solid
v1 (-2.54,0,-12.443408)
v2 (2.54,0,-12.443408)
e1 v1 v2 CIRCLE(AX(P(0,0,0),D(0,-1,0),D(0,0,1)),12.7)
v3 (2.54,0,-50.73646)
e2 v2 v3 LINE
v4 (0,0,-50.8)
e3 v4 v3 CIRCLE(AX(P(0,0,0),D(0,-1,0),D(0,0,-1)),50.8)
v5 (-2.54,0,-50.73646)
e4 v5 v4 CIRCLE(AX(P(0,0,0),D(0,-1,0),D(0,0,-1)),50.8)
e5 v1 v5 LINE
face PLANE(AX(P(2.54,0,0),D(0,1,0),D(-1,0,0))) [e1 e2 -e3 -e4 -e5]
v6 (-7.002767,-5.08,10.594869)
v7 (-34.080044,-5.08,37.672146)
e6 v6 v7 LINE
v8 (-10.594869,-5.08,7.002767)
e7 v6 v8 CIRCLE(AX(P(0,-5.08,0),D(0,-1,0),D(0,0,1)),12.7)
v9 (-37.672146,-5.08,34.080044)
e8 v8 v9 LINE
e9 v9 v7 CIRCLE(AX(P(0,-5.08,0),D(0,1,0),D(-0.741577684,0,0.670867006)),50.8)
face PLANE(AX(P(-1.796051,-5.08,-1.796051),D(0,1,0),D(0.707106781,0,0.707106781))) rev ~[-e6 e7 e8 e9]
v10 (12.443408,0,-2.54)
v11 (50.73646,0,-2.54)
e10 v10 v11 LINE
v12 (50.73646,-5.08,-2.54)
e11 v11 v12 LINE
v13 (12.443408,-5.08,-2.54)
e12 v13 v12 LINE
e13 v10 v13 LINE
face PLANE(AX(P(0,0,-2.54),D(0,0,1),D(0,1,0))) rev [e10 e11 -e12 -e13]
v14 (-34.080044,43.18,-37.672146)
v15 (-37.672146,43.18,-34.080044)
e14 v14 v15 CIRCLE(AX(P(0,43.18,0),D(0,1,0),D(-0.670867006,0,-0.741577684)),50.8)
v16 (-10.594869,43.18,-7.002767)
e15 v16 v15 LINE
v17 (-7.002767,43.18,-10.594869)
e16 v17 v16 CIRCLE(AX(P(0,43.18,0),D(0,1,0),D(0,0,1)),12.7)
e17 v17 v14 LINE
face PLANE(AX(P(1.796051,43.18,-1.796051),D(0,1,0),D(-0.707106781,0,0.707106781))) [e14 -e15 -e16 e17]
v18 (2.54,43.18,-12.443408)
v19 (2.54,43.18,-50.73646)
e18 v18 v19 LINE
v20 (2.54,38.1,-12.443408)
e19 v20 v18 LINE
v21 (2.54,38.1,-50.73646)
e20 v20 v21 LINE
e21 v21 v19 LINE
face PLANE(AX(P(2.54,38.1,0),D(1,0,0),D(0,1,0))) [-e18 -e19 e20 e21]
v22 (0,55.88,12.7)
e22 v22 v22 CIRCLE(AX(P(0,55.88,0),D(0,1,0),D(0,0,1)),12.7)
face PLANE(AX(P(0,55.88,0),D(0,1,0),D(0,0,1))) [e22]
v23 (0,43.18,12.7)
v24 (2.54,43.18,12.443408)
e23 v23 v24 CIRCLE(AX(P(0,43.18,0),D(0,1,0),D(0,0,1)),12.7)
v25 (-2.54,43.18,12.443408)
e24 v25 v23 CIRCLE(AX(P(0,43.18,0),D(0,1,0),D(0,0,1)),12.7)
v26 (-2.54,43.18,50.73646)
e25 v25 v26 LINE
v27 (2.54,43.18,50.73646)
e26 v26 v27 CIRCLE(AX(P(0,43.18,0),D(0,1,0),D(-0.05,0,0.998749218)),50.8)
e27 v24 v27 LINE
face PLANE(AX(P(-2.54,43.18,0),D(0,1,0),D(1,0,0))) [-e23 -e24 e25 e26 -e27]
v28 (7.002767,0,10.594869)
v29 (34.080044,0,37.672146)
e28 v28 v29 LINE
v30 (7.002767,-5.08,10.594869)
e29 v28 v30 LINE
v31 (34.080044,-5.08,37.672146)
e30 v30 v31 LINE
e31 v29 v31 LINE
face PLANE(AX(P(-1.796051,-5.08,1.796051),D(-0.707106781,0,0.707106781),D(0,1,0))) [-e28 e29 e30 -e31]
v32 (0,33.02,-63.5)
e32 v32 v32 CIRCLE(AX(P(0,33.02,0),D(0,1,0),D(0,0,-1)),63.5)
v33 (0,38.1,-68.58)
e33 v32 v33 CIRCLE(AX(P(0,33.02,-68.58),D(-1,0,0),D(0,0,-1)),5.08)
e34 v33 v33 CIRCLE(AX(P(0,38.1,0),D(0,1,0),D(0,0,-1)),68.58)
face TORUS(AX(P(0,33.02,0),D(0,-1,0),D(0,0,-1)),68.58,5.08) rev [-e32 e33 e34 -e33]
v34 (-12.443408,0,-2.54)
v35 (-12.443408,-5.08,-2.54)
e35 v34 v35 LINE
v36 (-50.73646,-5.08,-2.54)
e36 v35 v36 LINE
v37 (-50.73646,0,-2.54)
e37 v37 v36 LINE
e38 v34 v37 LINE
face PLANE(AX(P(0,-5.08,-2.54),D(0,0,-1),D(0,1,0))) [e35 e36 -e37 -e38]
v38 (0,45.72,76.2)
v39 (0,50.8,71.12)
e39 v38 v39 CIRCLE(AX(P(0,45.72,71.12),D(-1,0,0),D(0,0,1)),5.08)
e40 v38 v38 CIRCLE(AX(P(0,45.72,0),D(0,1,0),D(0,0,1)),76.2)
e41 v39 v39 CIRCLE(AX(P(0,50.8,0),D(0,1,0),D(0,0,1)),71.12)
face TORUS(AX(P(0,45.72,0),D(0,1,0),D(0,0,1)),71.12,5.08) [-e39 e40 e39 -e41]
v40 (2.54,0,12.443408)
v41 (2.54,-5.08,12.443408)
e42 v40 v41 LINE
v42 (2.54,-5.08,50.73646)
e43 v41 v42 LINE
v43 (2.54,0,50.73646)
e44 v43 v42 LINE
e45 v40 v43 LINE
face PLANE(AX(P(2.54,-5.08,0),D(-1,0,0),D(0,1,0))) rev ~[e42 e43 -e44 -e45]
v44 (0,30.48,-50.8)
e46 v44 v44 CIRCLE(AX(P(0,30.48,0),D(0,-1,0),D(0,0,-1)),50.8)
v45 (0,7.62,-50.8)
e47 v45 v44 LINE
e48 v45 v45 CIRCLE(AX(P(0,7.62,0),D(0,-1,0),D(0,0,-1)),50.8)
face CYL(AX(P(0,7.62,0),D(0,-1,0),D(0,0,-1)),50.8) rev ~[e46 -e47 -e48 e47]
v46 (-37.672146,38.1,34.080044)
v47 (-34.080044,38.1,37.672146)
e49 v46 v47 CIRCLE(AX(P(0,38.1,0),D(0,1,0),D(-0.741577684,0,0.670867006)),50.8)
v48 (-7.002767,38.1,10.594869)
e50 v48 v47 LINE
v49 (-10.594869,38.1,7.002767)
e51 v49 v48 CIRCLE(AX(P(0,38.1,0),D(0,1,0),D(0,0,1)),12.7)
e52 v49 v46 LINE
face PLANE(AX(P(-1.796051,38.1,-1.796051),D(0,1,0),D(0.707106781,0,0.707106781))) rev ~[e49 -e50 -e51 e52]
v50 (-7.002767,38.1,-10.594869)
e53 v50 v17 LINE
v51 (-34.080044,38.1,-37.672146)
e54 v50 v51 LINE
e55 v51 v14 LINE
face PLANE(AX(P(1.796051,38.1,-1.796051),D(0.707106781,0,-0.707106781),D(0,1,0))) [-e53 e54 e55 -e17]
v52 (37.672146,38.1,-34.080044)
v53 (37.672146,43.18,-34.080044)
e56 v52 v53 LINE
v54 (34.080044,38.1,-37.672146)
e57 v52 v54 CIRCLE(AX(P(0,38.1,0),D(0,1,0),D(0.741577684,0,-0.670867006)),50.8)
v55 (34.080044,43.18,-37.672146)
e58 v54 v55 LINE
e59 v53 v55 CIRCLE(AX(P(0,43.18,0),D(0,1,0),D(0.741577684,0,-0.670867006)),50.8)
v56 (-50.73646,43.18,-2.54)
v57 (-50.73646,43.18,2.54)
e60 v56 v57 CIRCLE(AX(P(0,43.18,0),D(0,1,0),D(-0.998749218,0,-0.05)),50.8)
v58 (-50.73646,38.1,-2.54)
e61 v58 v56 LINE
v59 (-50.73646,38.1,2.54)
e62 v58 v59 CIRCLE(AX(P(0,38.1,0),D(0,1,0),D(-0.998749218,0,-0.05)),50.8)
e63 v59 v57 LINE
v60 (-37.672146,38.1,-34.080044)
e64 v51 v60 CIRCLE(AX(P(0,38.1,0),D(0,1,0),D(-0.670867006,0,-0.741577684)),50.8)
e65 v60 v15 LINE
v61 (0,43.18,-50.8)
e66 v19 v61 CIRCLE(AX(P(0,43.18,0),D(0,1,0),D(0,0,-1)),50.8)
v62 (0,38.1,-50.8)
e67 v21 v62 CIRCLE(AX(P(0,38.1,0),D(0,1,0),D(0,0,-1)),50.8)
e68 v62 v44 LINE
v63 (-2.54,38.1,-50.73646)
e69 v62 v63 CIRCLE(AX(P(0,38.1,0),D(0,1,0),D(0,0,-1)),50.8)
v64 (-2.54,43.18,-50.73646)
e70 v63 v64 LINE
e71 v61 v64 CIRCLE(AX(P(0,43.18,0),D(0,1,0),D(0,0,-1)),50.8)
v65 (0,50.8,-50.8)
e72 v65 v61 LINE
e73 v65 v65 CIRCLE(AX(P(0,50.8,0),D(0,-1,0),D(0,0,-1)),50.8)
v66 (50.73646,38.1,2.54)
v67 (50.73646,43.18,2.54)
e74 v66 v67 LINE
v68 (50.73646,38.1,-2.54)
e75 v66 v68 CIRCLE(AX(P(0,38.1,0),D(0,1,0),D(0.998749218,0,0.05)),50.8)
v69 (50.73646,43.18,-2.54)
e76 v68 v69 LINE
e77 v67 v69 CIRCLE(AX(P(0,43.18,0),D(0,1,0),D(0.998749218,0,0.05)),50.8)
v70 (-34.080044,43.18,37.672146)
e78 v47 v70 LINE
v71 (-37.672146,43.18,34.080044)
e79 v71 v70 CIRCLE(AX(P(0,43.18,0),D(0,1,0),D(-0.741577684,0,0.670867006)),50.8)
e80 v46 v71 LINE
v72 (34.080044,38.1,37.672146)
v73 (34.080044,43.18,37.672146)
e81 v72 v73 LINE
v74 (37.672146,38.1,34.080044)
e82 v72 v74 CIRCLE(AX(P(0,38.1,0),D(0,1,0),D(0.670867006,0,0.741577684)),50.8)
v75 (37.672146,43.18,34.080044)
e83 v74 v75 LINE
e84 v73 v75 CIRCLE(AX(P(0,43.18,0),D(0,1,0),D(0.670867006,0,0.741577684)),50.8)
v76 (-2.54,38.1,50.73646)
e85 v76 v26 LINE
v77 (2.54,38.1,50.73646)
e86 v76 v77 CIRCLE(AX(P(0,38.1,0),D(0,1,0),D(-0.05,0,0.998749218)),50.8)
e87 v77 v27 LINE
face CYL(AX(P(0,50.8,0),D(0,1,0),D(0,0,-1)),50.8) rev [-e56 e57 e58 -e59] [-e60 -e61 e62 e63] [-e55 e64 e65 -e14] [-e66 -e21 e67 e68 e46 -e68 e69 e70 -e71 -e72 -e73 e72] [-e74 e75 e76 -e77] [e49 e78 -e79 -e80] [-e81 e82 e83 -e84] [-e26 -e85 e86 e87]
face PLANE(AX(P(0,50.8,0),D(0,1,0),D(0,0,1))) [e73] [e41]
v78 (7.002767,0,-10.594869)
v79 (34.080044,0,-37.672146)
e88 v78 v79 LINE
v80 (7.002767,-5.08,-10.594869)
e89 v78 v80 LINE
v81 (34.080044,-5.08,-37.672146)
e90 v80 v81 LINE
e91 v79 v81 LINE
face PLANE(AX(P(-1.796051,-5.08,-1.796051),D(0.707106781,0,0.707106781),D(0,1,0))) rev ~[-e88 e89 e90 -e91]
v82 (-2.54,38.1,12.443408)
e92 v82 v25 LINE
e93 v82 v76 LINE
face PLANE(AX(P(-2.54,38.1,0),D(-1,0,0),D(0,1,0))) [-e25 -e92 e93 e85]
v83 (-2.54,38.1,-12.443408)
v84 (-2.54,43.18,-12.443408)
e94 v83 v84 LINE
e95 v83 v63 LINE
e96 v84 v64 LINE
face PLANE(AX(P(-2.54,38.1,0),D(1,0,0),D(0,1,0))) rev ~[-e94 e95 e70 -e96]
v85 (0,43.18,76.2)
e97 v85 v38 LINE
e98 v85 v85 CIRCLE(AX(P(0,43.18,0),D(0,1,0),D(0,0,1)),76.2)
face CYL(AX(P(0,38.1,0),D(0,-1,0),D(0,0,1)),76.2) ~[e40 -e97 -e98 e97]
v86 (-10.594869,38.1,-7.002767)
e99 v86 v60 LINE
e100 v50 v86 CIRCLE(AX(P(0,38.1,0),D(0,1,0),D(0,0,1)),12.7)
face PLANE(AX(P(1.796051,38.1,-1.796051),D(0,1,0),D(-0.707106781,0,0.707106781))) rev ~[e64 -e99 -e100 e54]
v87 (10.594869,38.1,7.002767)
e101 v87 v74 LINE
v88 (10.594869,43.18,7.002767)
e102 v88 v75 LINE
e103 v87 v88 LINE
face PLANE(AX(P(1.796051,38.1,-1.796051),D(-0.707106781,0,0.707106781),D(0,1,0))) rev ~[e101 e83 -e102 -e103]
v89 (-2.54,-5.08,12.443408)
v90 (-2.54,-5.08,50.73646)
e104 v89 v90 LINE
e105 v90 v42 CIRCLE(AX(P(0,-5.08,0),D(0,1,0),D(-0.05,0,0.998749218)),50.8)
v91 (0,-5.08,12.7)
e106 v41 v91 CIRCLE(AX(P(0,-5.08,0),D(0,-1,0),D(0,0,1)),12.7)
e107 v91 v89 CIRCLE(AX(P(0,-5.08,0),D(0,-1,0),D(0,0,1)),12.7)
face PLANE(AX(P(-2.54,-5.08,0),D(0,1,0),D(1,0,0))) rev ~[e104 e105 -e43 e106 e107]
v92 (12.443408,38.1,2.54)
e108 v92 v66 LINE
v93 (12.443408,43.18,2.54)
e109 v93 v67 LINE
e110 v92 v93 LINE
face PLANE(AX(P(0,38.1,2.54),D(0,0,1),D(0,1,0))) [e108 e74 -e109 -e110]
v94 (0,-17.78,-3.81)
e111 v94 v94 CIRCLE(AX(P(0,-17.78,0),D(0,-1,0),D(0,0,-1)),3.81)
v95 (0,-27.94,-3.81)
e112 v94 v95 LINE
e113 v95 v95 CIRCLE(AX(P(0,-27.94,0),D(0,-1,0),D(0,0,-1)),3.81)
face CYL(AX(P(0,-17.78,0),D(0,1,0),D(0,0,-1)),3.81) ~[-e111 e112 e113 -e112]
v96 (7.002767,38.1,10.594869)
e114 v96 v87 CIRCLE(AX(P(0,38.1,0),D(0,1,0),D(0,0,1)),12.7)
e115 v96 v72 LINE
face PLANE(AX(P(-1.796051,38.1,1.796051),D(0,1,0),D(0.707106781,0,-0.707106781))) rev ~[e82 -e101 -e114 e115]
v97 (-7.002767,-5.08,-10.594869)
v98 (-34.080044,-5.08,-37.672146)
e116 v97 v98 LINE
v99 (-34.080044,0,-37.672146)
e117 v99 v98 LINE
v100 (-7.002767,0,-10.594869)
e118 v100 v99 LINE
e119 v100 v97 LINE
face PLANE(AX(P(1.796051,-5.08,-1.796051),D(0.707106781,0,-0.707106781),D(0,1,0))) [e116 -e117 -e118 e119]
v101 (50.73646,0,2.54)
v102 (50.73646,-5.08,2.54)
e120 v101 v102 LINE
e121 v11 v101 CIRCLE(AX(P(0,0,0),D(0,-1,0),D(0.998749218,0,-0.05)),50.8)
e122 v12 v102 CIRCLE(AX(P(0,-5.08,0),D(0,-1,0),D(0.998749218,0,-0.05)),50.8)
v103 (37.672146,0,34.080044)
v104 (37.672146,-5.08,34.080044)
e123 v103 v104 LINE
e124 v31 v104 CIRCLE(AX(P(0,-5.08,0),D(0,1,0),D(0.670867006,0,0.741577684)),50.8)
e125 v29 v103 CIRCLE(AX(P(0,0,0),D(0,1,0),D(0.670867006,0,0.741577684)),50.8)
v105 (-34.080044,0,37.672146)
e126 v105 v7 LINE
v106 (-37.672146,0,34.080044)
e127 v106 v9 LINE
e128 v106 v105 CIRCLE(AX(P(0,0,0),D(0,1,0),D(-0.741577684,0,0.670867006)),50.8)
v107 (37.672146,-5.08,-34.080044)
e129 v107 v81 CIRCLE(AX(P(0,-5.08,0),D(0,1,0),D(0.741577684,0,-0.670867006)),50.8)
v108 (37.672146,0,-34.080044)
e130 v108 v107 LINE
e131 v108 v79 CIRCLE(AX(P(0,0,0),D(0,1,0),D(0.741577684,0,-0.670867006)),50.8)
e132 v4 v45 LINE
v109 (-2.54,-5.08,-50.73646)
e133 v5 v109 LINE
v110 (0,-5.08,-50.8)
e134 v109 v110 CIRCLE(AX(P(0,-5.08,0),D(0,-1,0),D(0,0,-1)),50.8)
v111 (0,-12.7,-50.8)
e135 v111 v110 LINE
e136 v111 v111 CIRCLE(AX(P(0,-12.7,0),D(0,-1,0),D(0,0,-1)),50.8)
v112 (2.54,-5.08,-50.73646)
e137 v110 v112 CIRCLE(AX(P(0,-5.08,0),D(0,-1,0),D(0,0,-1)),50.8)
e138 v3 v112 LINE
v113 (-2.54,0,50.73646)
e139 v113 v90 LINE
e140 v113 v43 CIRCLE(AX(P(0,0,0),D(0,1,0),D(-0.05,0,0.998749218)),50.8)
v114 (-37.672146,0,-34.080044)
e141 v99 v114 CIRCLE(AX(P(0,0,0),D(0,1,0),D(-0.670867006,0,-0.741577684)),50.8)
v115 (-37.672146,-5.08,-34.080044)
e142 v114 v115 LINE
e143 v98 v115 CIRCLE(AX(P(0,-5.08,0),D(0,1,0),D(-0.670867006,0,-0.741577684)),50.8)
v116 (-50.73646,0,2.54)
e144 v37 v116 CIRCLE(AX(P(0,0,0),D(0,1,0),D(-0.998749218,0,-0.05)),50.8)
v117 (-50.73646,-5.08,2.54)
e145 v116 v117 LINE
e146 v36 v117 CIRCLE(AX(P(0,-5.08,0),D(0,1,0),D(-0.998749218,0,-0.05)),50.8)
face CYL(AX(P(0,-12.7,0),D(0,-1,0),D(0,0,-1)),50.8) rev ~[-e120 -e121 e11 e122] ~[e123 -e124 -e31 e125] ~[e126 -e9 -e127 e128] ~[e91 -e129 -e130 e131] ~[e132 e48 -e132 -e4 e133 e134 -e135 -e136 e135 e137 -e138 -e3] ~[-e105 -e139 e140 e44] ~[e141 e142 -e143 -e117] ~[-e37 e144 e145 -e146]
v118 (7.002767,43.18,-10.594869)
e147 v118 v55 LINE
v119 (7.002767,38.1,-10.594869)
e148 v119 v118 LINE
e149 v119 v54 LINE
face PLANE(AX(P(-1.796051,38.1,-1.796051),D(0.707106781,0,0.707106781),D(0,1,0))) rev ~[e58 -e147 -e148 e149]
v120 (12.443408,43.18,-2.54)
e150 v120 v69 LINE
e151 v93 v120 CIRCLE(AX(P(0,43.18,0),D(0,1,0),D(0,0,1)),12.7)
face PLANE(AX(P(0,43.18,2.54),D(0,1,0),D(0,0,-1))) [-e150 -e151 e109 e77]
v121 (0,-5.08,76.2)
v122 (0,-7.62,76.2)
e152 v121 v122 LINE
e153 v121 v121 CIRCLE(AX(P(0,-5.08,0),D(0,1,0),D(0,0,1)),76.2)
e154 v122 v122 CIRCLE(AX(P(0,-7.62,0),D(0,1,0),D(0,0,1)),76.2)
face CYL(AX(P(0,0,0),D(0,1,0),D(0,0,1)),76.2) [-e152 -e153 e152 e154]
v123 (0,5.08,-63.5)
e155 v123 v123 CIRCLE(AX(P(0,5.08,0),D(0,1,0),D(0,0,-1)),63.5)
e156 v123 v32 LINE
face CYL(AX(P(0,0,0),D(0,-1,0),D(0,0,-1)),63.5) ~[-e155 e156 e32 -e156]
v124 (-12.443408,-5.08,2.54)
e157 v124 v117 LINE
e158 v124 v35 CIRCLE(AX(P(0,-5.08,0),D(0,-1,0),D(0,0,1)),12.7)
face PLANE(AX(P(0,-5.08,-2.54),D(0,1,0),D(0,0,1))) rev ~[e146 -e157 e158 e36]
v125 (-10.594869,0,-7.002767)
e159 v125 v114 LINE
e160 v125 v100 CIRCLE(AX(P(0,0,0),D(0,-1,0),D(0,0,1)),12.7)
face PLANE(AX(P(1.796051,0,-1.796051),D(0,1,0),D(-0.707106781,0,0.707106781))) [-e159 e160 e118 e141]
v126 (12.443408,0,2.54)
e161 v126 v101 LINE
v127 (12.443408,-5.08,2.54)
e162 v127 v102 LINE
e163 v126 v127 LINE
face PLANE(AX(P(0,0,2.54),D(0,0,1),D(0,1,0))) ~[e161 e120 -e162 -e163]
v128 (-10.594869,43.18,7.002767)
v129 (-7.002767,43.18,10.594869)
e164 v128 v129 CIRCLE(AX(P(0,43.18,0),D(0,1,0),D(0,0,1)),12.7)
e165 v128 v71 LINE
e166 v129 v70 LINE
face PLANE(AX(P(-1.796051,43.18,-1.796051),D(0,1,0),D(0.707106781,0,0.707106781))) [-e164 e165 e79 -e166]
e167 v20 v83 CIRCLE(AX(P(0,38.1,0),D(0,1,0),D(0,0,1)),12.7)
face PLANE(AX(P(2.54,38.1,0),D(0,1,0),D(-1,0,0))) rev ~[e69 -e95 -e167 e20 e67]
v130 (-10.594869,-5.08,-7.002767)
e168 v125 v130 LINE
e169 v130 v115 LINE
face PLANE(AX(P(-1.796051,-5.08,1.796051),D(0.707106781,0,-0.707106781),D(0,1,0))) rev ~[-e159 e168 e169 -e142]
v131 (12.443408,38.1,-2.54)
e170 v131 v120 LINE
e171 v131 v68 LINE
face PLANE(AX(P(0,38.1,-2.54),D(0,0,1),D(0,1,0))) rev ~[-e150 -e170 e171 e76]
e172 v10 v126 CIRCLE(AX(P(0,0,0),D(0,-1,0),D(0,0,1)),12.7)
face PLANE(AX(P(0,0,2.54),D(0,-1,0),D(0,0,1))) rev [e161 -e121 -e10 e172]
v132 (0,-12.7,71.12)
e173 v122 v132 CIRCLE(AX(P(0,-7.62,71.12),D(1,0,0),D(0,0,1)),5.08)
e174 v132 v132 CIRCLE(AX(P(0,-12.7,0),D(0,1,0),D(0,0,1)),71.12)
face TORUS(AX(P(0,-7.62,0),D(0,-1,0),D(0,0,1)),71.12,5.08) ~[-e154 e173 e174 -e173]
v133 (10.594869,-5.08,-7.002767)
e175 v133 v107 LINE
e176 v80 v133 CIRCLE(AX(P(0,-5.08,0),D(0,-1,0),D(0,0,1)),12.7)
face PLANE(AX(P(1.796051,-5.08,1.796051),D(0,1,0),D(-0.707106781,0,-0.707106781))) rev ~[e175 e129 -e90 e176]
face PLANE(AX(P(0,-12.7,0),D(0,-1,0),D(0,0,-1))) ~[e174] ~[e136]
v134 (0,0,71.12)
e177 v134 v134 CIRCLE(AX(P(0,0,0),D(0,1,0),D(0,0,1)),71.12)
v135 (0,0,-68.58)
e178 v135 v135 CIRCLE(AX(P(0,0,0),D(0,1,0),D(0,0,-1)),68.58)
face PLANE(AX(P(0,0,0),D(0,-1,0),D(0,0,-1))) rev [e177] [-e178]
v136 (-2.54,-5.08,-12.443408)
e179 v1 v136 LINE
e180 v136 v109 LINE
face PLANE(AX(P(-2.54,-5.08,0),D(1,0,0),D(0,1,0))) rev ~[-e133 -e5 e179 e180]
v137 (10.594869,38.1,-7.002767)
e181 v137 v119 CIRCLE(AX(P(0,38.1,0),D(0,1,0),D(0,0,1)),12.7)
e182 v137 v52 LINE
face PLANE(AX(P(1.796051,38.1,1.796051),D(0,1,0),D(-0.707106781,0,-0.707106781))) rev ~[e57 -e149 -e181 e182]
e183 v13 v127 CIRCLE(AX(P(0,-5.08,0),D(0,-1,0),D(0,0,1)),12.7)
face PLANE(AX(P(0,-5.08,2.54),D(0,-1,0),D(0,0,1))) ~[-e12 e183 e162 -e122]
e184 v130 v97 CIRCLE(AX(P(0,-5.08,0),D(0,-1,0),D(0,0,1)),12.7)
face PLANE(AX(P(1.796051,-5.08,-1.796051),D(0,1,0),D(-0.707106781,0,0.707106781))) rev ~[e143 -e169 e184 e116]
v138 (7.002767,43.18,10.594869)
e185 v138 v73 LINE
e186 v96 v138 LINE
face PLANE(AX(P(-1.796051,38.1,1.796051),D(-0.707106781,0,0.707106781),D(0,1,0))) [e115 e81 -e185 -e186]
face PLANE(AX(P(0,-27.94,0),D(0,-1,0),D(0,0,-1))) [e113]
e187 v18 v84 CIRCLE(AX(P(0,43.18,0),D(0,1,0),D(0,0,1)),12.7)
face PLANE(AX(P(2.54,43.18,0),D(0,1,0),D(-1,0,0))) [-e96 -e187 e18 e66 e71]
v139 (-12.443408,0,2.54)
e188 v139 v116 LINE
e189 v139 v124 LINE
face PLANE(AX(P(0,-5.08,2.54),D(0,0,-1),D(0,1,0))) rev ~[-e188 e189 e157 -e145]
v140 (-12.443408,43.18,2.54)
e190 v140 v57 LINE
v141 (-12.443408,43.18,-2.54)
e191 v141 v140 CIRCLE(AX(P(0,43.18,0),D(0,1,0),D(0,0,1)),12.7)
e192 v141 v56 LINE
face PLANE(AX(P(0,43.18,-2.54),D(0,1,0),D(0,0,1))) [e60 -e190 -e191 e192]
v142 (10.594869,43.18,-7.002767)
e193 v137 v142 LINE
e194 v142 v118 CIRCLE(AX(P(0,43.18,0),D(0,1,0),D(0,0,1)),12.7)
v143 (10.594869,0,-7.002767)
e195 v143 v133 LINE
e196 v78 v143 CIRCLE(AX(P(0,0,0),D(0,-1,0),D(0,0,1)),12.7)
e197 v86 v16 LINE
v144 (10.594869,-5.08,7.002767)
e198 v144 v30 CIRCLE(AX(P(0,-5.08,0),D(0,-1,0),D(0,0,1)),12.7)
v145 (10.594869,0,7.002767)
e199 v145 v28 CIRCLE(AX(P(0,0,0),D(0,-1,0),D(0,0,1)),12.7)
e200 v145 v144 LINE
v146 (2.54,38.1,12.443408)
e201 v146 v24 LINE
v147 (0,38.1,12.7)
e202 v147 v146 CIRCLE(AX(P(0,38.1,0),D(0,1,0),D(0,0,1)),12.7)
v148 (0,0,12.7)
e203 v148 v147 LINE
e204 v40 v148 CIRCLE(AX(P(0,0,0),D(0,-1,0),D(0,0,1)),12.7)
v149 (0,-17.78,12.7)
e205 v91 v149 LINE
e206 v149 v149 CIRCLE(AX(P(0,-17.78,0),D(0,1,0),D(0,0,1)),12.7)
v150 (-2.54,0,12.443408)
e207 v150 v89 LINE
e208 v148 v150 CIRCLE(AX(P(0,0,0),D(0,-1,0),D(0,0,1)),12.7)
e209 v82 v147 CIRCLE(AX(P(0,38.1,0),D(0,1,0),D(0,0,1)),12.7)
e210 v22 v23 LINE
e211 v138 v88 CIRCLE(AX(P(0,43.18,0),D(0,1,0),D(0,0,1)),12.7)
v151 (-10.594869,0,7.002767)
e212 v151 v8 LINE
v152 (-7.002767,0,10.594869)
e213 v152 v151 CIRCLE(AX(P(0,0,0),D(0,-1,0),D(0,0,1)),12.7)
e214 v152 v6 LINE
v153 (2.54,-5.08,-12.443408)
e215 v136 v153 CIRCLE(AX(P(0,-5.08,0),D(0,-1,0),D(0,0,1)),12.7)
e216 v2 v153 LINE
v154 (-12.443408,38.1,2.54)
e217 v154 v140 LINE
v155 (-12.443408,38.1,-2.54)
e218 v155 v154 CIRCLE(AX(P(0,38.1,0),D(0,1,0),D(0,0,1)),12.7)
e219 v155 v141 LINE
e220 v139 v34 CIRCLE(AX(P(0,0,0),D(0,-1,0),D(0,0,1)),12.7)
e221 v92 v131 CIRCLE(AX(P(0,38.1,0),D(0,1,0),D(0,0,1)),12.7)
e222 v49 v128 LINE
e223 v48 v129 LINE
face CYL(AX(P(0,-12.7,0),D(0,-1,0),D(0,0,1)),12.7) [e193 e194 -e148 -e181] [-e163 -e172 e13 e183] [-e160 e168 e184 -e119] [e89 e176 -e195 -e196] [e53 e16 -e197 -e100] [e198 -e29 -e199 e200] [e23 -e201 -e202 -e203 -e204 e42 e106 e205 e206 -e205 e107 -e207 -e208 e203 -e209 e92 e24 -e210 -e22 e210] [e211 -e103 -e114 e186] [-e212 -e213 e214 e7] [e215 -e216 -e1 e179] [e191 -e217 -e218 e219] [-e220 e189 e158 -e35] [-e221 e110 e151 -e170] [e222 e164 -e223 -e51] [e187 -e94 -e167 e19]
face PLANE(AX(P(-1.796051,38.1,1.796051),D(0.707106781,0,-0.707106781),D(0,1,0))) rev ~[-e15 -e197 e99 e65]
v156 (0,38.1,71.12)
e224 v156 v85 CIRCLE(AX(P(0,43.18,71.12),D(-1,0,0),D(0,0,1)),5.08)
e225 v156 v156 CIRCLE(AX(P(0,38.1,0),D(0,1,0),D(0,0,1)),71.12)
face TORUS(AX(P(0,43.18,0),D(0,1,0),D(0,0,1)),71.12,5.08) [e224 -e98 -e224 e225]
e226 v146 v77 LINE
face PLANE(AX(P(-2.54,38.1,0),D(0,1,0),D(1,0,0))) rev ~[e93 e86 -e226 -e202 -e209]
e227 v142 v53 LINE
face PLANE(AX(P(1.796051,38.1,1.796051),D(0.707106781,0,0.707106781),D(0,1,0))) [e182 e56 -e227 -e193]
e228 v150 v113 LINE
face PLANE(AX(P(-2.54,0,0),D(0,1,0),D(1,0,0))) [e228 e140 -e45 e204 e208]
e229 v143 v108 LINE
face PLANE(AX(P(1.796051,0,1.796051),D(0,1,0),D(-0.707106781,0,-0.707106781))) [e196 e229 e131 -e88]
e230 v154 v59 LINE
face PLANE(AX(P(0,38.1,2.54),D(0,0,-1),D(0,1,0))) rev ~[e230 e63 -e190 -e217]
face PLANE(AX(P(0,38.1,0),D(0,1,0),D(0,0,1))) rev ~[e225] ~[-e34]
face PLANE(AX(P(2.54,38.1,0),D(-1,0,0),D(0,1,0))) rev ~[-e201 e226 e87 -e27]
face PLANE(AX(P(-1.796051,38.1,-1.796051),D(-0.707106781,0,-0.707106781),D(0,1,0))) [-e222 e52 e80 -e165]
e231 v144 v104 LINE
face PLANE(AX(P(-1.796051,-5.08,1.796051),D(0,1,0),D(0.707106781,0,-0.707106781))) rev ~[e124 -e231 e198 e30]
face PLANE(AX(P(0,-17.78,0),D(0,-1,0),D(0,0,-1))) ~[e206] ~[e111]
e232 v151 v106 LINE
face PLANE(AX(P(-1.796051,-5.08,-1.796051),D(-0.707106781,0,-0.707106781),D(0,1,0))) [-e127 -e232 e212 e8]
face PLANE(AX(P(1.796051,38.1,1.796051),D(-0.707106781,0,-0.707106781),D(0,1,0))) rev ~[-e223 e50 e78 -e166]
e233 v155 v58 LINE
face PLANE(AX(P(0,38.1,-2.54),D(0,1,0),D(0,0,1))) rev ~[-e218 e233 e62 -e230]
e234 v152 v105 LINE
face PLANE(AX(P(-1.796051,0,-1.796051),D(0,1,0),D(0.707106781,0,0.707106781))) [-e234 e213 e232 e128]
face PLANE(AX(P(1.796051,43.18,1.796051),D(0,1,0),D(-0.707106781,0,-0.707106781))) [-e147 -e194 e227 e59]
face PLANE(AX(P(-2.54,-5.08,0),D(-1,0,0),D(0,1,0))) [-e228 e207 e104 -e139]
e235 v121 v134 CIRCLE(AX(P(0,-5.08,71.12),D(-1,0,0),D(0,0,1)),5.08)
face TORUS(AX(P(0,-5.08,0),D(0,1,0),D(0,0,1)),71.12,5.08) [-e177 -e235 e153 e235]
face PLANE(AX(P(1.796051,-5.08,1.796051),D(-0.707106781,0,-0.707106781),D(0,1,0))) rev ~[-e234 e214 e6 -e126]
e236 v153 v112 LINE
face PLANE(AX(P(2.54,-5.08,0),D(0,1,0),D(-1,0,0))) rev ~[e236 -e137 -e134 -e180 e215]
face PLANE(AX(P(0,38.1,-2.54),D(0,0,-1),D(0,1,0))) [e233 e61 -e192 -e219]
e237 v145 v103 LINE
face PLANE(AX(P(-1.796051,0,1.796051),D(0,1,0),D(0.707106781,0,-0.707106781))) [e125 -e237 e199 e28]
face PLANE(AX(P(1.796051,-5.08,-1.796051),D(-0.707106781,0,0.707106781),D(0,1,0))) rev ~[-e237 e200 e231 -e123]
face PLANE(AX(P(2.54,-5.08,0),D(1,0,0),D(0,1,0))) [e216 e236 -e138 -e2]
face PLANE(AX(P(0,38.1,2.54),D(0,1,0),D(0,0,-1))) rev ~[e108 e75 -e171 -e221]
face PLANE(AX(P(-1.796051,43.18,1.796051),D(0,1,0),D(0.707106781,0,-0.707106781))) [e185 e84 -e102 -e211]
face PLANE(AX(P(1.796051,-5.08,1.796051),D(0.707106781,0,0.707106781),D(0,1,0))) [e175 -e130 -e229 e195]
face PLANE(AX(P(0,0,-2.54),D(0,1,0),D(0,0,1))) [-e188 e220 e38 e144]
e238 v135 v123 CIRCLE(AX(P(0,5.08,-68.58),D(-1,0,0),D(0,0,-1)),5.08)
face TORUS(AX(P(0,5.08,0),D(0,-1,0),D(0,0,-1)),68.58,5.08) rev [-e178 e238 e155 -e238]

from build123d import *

# Parameters (mm, degrees)
SKETCH1_R               = 63.5
BOSS_EXTRUDE1_DEPTH     = 38.1
SKETCH2_R               = 76.2
BOSS_EXTRUDE2_DEPTH     = 12.7
SKETCH3_R               = 12.7
BOSS_EXTRUDE3_DEPTH     = 5.08
FILLET1_R               = 5.08
SKETCH4_R               = 50.8
SKETCH4_R_2             = 12.7
CUT_EXTRUDE1_DEPTH      = 20.32
SKETCH5_R               = 3.81
BOSS_EXTRUDE4_DEPTH     = 10.16
SKETCH6_W               = 5.08
SKETCH6_H               = 5.08
BOSS_EXTRUDE5_DEPTH     = 50.8
CIRPATTERN1_COUNT       = 8
MIRROR3_COPY_1_SKETCH_W = 5.08
MIRROR3_COPY_1_SKETCH_H = 5.08
MIRROR3_COPY_1_DEPTH    = 50.8
MIRROR3_COPY_2_SKETCH_W = 5.08
MIRROR3_COPY_2_SKETCH_H = 5.08
MIRROR3_COPY_2_DEPTH    = 50.8
MIRROR3_COPY_3_SKETCH_W = 5.08
MIRROR3_COPY_3_SKETCH_H = 5.08
MIRROR3_COPY_3_DEPTH    = 50.8
MIRROR3_COPY_4_SKETCH_W = 5.08
MIRROR3_COPY_4_SKETCH_H = 5.08
MIRROR3_COPY_4_DEPTH    = 50.8
MIRROR3_COPY_5_SKETCH_W = 5.08
MIRROR3_COPY_5_SKETCH_H = 5.08
MIRROR3_COPY_5_DEPTH    = 50.8
MIRROR3_COPY_6_SKETCH_W = 5.08
MIRROR3_COPY_6_SKETCH_H = 5.08
MIRROR3_COPY_6_DEPTH    = 50.8
MIRROR3_COPY_7_SKETCH_W = 5.08
MIRROR3_COPY_7_SKETCH_H = 5.08
MIRROR3_COPY_7_DEPTH    = 50.8
SKETCH7_R               = 50.8
SKETCH7_R_2             = 12.7
CUT_EXTRUDE2_DEPTH      = 22.86


with BuildPart() as part:
    # Sketch1 → Boss-Extrude1 (new body)
    with BuildSketch(Plane(origin=(0, 0, 0), x_dir=(1, 0, 0), z_dir=(0, 1, 0))):
        with Locations(Location((0, 0, 0), (0, 0, 90))):
            Circle(SKETCH1_R)
    extrude(amount=BOSS_EXTRUDE1_DEPTH)

    # Sketch2 → Boss-Extrude2 (add)
    with BuildSketch(Plane(origin=(0, 38.1, 0), x_dir=(1, 0, 0), z_dir=(0, 1, 0))):
        with Locations(Location((0, 0, 0), (0, 0, 270))):
            Circle(SKETCH2_R)
    boss_extrude2 = extrude(amount=BOSS_EXTRUDE2_DEPTH)

    # Sketch3 → Boss-Extrude3 (add)
    with BuildSketch(Plane(origin=(0, 50.8, 0), x_dir=(1, 0, 0), z_dir=(0, 1, 0))):
        with Locations(Location((0, 0, 0), (0, 0, 270))):
            Circle(SKETCH3_R)
    boss_extrude3 = extrude(amount=BOSS_EXTRUDE3_DEPTH)

    # Mirror1: Boss-Extrude2, Boss-Extrude3 across plane
    add(boss_extrude2.mirror(Plane.ZX.offset(19.05)))
    add(boss_extrude3.mirror(Plane.ZX.offset(19.05)))

    # Fillet1
    fillet1_edges = [part.edges().sort_by_distance(p)[0] for p in [
        (0, 0, -76.2),
        (0, 0, 63.5),
        (0, -12.7, -76.2),
        (0, 38.1, 63.5),
        (0, 38.1, -76.2),
        (0, 50.8, -76.2),
    ]]
    fillet(fillet1_edges, radius=FILLET1_R)

    # Sketch4 → Cut-Extrude1 (cut)
    with BuildSketch(Plane.XZ.offset(12.7)):
        with Locations(Location((0, 0, 0), (0, 0, 270))):
            Circle(SKETCH4_R)
        with Locations(Location((0, 0, 0), (0, 0, 90))):
            Circle(SKETCH4_R_2, mode=Mode.SUBTRACT)
    cut_extrude1 = extrude(amount=-CUT_EXTRUDE1_DEPTH, mode=Mode.SUBTRACT)

    # Mirror2: Cut-Extrude1 across plane
    add(cut_extrude1.mirror(Plane(origin=(0, 19.05, 0), x_dir=(0, 0, 1), z_dir=(0, -1, 0))), mode=Mode.SUBTRACT)

    # Sketch5 → Boss-Extrude4 (add)
    with BuildSketch(Plane.XZ.offset(17.78)):
        with Locations(Location((0, 0, 0), (0, 0, 270))):
            Circle(SKETCH5_R)
    extrude(amount=BOSS_EXTRUDE4_DEPTH)

    # Sketch6 → Boss-Extrude5 (add)
    with BuildSketch(Plane(origin=(0, 0, 0), x_dir=(0, 0, -1), z_dir=(1, 0, 0))):
        with Locations((0, 40.64)):
            Rectangle(SKETCH6_W, SKETCH6_H)
    boss_extrude5 = extrude(amount=BOSS_EXTRUDE5_DEPTH)

    # CirPattern1: Boss-Extrude5 ×8 about axis
    cirpattern1_axis = Axis((0, 0, 0), (0, 1, 0))
    for i in range(1, CIRPATTERN1_COUNT):
        add(boss_extrude5.rotate(cirpattern1_axis, i * 360 / CIRPATTERN1_COUNT))

    # Mirror3: Boss-Extrude5 across plane
    add(boss_extrude5.mirror(Plane(origin=(0, 19.05, 0), x_dir=(0, 0, 1), z_dir=(0, -1, 0))))

    # Mirror3 copy 1 sketch → Mirror3 copy 1 (add)
    with BuildSketch(Plane(origin=(0, 38.1, 0), x_dir=(-0.7071067811865475, 0, -0.7071067811865476), z_dir=(0.7071067811865476, 0, -0.7071067811865475))):
        with Locations((0, -40.64)):
            Rectangle(MIRROR3_COPY_1_SKETCH_W, MIRROR3_COPY_1_SKETCH_H)
    extrude(amount=MIRROR3_COPY_1_DEPTH)

    # Mirror3 copy 2 sketch → Mirror3 copy 2 (add)
    with BuildSketch(Plane(origin=(0, 38.1, 0), x_dir=(-1, 0, 0), z_dir=(0, 0, -1))):
        with Locations((0, -40.64)):
            Rectangle(MIRROR3_COPY_2_SKETCH_W, MIRROR3_COPY_2_SKETCH_H)
    extrude(amount=MIRROR3_COPY_2_DEPTH)

    # Mirror3 copy 3 sketch → Mirror3 copy 3 (add)
    with BuildSketch(Plane(origin=(0, 38.1, 0), x_dir=(-0.7071067811865476, 0, 0.7071067811865475), z_dir=(-0.7071067811865475, 0, -0.7071067811865476))):
        with Locations((0, -40.64)):
            Rectangle(MIRROR3_COPY_3_SKETCH_W, MIRROR3_COPY_3_SKETCH_H)
    extrude(amount=MIRROR3_COPY_3_DEPTH)

    # Mirror3 copy 4 sketch → Mirror3 copy 4 (add)
    with BuildSketch(Plane(origin=(0, 38.1, 0), x_dir=(0, 0, 1), z_dir=(-1, 0, 0))):
        with Locations((0, -40.64)):
            Rectangle(MIRROR3_COPY_4_SKETCH_W, MIRROR3_COPY_4_SKETCH_H)
    extrude(amount=MIRROR3_COPY_4_DEPTH)

    # Mirror3 copy 5 sketch → Mirror3 copy 5 (add)
    with BuildSketch(Plane(origin=(0, 38.1, 0), x_dir=(0.7071067811865475, 0, 0.7071067811865477), z_dir=(-0.7071067811865477, 0, 0.7071067811865475))):
        with Locations((0, -40.64)):
            Rectangle(MIRROR3_COPY_5_SKETCH_W, MIRROR3_COPY_5_SKETCH_H)
    extrude(amount=MIRROR3_COPY_5_DEPTH)

    # Mirror3 copy 6 sketch → Mirror3 copy 6 (add)
    with BuildSketch(Plane(origin=(0, 38.1, 0), x_dir=(1, 0, 0), z_dir=(0, 0, 1))):
        with Locations((0, -40.64)):
            Rectangle(MIRROR3_COPY_6_SKETCH_W, MIRROR3_COPY_6_SKETCH_H)
    extrude(amount=MIRROR3_COPY_6_DEPTH)

    # Mirror3 copy 7 sketch → Mirror3 copy 7 (add)
    with BuildSketch(Plane(origin=(0, 38.1, 0), x_dir=(0.7071067811865477, 0, -0.7071067811865474), z_dir=(0.7071067811865474, 0, 0.7071067811865477))):
        with Locations((0, -40.64)):
            Rectangle(MIRROR3_COPY_7_SKETCH_W, MIRROR3_COPY_7_SKETCH_H)
    extrude(amount=MIRROR3_COPY_7_DEPTH)

    # Sketch7 → Cut-Extrude2 (cut)
    with BuildSketch(Plane.XZ.offset(-7.62)):
        with Locations(Location((0, 0, 0), (0, 0, 270))):
            Circle(SKETCH7_R)
        with Locations(Location((0, 0, 0), (0, 0, 90))):
            Circle(SKETCH7_R_2, mode=Mode.SUBTRACT)
    extrude(amount=-CUT_EXTRUDE2_DEPTH, mode=Mode.SUBTRACT)


solid = part.part
